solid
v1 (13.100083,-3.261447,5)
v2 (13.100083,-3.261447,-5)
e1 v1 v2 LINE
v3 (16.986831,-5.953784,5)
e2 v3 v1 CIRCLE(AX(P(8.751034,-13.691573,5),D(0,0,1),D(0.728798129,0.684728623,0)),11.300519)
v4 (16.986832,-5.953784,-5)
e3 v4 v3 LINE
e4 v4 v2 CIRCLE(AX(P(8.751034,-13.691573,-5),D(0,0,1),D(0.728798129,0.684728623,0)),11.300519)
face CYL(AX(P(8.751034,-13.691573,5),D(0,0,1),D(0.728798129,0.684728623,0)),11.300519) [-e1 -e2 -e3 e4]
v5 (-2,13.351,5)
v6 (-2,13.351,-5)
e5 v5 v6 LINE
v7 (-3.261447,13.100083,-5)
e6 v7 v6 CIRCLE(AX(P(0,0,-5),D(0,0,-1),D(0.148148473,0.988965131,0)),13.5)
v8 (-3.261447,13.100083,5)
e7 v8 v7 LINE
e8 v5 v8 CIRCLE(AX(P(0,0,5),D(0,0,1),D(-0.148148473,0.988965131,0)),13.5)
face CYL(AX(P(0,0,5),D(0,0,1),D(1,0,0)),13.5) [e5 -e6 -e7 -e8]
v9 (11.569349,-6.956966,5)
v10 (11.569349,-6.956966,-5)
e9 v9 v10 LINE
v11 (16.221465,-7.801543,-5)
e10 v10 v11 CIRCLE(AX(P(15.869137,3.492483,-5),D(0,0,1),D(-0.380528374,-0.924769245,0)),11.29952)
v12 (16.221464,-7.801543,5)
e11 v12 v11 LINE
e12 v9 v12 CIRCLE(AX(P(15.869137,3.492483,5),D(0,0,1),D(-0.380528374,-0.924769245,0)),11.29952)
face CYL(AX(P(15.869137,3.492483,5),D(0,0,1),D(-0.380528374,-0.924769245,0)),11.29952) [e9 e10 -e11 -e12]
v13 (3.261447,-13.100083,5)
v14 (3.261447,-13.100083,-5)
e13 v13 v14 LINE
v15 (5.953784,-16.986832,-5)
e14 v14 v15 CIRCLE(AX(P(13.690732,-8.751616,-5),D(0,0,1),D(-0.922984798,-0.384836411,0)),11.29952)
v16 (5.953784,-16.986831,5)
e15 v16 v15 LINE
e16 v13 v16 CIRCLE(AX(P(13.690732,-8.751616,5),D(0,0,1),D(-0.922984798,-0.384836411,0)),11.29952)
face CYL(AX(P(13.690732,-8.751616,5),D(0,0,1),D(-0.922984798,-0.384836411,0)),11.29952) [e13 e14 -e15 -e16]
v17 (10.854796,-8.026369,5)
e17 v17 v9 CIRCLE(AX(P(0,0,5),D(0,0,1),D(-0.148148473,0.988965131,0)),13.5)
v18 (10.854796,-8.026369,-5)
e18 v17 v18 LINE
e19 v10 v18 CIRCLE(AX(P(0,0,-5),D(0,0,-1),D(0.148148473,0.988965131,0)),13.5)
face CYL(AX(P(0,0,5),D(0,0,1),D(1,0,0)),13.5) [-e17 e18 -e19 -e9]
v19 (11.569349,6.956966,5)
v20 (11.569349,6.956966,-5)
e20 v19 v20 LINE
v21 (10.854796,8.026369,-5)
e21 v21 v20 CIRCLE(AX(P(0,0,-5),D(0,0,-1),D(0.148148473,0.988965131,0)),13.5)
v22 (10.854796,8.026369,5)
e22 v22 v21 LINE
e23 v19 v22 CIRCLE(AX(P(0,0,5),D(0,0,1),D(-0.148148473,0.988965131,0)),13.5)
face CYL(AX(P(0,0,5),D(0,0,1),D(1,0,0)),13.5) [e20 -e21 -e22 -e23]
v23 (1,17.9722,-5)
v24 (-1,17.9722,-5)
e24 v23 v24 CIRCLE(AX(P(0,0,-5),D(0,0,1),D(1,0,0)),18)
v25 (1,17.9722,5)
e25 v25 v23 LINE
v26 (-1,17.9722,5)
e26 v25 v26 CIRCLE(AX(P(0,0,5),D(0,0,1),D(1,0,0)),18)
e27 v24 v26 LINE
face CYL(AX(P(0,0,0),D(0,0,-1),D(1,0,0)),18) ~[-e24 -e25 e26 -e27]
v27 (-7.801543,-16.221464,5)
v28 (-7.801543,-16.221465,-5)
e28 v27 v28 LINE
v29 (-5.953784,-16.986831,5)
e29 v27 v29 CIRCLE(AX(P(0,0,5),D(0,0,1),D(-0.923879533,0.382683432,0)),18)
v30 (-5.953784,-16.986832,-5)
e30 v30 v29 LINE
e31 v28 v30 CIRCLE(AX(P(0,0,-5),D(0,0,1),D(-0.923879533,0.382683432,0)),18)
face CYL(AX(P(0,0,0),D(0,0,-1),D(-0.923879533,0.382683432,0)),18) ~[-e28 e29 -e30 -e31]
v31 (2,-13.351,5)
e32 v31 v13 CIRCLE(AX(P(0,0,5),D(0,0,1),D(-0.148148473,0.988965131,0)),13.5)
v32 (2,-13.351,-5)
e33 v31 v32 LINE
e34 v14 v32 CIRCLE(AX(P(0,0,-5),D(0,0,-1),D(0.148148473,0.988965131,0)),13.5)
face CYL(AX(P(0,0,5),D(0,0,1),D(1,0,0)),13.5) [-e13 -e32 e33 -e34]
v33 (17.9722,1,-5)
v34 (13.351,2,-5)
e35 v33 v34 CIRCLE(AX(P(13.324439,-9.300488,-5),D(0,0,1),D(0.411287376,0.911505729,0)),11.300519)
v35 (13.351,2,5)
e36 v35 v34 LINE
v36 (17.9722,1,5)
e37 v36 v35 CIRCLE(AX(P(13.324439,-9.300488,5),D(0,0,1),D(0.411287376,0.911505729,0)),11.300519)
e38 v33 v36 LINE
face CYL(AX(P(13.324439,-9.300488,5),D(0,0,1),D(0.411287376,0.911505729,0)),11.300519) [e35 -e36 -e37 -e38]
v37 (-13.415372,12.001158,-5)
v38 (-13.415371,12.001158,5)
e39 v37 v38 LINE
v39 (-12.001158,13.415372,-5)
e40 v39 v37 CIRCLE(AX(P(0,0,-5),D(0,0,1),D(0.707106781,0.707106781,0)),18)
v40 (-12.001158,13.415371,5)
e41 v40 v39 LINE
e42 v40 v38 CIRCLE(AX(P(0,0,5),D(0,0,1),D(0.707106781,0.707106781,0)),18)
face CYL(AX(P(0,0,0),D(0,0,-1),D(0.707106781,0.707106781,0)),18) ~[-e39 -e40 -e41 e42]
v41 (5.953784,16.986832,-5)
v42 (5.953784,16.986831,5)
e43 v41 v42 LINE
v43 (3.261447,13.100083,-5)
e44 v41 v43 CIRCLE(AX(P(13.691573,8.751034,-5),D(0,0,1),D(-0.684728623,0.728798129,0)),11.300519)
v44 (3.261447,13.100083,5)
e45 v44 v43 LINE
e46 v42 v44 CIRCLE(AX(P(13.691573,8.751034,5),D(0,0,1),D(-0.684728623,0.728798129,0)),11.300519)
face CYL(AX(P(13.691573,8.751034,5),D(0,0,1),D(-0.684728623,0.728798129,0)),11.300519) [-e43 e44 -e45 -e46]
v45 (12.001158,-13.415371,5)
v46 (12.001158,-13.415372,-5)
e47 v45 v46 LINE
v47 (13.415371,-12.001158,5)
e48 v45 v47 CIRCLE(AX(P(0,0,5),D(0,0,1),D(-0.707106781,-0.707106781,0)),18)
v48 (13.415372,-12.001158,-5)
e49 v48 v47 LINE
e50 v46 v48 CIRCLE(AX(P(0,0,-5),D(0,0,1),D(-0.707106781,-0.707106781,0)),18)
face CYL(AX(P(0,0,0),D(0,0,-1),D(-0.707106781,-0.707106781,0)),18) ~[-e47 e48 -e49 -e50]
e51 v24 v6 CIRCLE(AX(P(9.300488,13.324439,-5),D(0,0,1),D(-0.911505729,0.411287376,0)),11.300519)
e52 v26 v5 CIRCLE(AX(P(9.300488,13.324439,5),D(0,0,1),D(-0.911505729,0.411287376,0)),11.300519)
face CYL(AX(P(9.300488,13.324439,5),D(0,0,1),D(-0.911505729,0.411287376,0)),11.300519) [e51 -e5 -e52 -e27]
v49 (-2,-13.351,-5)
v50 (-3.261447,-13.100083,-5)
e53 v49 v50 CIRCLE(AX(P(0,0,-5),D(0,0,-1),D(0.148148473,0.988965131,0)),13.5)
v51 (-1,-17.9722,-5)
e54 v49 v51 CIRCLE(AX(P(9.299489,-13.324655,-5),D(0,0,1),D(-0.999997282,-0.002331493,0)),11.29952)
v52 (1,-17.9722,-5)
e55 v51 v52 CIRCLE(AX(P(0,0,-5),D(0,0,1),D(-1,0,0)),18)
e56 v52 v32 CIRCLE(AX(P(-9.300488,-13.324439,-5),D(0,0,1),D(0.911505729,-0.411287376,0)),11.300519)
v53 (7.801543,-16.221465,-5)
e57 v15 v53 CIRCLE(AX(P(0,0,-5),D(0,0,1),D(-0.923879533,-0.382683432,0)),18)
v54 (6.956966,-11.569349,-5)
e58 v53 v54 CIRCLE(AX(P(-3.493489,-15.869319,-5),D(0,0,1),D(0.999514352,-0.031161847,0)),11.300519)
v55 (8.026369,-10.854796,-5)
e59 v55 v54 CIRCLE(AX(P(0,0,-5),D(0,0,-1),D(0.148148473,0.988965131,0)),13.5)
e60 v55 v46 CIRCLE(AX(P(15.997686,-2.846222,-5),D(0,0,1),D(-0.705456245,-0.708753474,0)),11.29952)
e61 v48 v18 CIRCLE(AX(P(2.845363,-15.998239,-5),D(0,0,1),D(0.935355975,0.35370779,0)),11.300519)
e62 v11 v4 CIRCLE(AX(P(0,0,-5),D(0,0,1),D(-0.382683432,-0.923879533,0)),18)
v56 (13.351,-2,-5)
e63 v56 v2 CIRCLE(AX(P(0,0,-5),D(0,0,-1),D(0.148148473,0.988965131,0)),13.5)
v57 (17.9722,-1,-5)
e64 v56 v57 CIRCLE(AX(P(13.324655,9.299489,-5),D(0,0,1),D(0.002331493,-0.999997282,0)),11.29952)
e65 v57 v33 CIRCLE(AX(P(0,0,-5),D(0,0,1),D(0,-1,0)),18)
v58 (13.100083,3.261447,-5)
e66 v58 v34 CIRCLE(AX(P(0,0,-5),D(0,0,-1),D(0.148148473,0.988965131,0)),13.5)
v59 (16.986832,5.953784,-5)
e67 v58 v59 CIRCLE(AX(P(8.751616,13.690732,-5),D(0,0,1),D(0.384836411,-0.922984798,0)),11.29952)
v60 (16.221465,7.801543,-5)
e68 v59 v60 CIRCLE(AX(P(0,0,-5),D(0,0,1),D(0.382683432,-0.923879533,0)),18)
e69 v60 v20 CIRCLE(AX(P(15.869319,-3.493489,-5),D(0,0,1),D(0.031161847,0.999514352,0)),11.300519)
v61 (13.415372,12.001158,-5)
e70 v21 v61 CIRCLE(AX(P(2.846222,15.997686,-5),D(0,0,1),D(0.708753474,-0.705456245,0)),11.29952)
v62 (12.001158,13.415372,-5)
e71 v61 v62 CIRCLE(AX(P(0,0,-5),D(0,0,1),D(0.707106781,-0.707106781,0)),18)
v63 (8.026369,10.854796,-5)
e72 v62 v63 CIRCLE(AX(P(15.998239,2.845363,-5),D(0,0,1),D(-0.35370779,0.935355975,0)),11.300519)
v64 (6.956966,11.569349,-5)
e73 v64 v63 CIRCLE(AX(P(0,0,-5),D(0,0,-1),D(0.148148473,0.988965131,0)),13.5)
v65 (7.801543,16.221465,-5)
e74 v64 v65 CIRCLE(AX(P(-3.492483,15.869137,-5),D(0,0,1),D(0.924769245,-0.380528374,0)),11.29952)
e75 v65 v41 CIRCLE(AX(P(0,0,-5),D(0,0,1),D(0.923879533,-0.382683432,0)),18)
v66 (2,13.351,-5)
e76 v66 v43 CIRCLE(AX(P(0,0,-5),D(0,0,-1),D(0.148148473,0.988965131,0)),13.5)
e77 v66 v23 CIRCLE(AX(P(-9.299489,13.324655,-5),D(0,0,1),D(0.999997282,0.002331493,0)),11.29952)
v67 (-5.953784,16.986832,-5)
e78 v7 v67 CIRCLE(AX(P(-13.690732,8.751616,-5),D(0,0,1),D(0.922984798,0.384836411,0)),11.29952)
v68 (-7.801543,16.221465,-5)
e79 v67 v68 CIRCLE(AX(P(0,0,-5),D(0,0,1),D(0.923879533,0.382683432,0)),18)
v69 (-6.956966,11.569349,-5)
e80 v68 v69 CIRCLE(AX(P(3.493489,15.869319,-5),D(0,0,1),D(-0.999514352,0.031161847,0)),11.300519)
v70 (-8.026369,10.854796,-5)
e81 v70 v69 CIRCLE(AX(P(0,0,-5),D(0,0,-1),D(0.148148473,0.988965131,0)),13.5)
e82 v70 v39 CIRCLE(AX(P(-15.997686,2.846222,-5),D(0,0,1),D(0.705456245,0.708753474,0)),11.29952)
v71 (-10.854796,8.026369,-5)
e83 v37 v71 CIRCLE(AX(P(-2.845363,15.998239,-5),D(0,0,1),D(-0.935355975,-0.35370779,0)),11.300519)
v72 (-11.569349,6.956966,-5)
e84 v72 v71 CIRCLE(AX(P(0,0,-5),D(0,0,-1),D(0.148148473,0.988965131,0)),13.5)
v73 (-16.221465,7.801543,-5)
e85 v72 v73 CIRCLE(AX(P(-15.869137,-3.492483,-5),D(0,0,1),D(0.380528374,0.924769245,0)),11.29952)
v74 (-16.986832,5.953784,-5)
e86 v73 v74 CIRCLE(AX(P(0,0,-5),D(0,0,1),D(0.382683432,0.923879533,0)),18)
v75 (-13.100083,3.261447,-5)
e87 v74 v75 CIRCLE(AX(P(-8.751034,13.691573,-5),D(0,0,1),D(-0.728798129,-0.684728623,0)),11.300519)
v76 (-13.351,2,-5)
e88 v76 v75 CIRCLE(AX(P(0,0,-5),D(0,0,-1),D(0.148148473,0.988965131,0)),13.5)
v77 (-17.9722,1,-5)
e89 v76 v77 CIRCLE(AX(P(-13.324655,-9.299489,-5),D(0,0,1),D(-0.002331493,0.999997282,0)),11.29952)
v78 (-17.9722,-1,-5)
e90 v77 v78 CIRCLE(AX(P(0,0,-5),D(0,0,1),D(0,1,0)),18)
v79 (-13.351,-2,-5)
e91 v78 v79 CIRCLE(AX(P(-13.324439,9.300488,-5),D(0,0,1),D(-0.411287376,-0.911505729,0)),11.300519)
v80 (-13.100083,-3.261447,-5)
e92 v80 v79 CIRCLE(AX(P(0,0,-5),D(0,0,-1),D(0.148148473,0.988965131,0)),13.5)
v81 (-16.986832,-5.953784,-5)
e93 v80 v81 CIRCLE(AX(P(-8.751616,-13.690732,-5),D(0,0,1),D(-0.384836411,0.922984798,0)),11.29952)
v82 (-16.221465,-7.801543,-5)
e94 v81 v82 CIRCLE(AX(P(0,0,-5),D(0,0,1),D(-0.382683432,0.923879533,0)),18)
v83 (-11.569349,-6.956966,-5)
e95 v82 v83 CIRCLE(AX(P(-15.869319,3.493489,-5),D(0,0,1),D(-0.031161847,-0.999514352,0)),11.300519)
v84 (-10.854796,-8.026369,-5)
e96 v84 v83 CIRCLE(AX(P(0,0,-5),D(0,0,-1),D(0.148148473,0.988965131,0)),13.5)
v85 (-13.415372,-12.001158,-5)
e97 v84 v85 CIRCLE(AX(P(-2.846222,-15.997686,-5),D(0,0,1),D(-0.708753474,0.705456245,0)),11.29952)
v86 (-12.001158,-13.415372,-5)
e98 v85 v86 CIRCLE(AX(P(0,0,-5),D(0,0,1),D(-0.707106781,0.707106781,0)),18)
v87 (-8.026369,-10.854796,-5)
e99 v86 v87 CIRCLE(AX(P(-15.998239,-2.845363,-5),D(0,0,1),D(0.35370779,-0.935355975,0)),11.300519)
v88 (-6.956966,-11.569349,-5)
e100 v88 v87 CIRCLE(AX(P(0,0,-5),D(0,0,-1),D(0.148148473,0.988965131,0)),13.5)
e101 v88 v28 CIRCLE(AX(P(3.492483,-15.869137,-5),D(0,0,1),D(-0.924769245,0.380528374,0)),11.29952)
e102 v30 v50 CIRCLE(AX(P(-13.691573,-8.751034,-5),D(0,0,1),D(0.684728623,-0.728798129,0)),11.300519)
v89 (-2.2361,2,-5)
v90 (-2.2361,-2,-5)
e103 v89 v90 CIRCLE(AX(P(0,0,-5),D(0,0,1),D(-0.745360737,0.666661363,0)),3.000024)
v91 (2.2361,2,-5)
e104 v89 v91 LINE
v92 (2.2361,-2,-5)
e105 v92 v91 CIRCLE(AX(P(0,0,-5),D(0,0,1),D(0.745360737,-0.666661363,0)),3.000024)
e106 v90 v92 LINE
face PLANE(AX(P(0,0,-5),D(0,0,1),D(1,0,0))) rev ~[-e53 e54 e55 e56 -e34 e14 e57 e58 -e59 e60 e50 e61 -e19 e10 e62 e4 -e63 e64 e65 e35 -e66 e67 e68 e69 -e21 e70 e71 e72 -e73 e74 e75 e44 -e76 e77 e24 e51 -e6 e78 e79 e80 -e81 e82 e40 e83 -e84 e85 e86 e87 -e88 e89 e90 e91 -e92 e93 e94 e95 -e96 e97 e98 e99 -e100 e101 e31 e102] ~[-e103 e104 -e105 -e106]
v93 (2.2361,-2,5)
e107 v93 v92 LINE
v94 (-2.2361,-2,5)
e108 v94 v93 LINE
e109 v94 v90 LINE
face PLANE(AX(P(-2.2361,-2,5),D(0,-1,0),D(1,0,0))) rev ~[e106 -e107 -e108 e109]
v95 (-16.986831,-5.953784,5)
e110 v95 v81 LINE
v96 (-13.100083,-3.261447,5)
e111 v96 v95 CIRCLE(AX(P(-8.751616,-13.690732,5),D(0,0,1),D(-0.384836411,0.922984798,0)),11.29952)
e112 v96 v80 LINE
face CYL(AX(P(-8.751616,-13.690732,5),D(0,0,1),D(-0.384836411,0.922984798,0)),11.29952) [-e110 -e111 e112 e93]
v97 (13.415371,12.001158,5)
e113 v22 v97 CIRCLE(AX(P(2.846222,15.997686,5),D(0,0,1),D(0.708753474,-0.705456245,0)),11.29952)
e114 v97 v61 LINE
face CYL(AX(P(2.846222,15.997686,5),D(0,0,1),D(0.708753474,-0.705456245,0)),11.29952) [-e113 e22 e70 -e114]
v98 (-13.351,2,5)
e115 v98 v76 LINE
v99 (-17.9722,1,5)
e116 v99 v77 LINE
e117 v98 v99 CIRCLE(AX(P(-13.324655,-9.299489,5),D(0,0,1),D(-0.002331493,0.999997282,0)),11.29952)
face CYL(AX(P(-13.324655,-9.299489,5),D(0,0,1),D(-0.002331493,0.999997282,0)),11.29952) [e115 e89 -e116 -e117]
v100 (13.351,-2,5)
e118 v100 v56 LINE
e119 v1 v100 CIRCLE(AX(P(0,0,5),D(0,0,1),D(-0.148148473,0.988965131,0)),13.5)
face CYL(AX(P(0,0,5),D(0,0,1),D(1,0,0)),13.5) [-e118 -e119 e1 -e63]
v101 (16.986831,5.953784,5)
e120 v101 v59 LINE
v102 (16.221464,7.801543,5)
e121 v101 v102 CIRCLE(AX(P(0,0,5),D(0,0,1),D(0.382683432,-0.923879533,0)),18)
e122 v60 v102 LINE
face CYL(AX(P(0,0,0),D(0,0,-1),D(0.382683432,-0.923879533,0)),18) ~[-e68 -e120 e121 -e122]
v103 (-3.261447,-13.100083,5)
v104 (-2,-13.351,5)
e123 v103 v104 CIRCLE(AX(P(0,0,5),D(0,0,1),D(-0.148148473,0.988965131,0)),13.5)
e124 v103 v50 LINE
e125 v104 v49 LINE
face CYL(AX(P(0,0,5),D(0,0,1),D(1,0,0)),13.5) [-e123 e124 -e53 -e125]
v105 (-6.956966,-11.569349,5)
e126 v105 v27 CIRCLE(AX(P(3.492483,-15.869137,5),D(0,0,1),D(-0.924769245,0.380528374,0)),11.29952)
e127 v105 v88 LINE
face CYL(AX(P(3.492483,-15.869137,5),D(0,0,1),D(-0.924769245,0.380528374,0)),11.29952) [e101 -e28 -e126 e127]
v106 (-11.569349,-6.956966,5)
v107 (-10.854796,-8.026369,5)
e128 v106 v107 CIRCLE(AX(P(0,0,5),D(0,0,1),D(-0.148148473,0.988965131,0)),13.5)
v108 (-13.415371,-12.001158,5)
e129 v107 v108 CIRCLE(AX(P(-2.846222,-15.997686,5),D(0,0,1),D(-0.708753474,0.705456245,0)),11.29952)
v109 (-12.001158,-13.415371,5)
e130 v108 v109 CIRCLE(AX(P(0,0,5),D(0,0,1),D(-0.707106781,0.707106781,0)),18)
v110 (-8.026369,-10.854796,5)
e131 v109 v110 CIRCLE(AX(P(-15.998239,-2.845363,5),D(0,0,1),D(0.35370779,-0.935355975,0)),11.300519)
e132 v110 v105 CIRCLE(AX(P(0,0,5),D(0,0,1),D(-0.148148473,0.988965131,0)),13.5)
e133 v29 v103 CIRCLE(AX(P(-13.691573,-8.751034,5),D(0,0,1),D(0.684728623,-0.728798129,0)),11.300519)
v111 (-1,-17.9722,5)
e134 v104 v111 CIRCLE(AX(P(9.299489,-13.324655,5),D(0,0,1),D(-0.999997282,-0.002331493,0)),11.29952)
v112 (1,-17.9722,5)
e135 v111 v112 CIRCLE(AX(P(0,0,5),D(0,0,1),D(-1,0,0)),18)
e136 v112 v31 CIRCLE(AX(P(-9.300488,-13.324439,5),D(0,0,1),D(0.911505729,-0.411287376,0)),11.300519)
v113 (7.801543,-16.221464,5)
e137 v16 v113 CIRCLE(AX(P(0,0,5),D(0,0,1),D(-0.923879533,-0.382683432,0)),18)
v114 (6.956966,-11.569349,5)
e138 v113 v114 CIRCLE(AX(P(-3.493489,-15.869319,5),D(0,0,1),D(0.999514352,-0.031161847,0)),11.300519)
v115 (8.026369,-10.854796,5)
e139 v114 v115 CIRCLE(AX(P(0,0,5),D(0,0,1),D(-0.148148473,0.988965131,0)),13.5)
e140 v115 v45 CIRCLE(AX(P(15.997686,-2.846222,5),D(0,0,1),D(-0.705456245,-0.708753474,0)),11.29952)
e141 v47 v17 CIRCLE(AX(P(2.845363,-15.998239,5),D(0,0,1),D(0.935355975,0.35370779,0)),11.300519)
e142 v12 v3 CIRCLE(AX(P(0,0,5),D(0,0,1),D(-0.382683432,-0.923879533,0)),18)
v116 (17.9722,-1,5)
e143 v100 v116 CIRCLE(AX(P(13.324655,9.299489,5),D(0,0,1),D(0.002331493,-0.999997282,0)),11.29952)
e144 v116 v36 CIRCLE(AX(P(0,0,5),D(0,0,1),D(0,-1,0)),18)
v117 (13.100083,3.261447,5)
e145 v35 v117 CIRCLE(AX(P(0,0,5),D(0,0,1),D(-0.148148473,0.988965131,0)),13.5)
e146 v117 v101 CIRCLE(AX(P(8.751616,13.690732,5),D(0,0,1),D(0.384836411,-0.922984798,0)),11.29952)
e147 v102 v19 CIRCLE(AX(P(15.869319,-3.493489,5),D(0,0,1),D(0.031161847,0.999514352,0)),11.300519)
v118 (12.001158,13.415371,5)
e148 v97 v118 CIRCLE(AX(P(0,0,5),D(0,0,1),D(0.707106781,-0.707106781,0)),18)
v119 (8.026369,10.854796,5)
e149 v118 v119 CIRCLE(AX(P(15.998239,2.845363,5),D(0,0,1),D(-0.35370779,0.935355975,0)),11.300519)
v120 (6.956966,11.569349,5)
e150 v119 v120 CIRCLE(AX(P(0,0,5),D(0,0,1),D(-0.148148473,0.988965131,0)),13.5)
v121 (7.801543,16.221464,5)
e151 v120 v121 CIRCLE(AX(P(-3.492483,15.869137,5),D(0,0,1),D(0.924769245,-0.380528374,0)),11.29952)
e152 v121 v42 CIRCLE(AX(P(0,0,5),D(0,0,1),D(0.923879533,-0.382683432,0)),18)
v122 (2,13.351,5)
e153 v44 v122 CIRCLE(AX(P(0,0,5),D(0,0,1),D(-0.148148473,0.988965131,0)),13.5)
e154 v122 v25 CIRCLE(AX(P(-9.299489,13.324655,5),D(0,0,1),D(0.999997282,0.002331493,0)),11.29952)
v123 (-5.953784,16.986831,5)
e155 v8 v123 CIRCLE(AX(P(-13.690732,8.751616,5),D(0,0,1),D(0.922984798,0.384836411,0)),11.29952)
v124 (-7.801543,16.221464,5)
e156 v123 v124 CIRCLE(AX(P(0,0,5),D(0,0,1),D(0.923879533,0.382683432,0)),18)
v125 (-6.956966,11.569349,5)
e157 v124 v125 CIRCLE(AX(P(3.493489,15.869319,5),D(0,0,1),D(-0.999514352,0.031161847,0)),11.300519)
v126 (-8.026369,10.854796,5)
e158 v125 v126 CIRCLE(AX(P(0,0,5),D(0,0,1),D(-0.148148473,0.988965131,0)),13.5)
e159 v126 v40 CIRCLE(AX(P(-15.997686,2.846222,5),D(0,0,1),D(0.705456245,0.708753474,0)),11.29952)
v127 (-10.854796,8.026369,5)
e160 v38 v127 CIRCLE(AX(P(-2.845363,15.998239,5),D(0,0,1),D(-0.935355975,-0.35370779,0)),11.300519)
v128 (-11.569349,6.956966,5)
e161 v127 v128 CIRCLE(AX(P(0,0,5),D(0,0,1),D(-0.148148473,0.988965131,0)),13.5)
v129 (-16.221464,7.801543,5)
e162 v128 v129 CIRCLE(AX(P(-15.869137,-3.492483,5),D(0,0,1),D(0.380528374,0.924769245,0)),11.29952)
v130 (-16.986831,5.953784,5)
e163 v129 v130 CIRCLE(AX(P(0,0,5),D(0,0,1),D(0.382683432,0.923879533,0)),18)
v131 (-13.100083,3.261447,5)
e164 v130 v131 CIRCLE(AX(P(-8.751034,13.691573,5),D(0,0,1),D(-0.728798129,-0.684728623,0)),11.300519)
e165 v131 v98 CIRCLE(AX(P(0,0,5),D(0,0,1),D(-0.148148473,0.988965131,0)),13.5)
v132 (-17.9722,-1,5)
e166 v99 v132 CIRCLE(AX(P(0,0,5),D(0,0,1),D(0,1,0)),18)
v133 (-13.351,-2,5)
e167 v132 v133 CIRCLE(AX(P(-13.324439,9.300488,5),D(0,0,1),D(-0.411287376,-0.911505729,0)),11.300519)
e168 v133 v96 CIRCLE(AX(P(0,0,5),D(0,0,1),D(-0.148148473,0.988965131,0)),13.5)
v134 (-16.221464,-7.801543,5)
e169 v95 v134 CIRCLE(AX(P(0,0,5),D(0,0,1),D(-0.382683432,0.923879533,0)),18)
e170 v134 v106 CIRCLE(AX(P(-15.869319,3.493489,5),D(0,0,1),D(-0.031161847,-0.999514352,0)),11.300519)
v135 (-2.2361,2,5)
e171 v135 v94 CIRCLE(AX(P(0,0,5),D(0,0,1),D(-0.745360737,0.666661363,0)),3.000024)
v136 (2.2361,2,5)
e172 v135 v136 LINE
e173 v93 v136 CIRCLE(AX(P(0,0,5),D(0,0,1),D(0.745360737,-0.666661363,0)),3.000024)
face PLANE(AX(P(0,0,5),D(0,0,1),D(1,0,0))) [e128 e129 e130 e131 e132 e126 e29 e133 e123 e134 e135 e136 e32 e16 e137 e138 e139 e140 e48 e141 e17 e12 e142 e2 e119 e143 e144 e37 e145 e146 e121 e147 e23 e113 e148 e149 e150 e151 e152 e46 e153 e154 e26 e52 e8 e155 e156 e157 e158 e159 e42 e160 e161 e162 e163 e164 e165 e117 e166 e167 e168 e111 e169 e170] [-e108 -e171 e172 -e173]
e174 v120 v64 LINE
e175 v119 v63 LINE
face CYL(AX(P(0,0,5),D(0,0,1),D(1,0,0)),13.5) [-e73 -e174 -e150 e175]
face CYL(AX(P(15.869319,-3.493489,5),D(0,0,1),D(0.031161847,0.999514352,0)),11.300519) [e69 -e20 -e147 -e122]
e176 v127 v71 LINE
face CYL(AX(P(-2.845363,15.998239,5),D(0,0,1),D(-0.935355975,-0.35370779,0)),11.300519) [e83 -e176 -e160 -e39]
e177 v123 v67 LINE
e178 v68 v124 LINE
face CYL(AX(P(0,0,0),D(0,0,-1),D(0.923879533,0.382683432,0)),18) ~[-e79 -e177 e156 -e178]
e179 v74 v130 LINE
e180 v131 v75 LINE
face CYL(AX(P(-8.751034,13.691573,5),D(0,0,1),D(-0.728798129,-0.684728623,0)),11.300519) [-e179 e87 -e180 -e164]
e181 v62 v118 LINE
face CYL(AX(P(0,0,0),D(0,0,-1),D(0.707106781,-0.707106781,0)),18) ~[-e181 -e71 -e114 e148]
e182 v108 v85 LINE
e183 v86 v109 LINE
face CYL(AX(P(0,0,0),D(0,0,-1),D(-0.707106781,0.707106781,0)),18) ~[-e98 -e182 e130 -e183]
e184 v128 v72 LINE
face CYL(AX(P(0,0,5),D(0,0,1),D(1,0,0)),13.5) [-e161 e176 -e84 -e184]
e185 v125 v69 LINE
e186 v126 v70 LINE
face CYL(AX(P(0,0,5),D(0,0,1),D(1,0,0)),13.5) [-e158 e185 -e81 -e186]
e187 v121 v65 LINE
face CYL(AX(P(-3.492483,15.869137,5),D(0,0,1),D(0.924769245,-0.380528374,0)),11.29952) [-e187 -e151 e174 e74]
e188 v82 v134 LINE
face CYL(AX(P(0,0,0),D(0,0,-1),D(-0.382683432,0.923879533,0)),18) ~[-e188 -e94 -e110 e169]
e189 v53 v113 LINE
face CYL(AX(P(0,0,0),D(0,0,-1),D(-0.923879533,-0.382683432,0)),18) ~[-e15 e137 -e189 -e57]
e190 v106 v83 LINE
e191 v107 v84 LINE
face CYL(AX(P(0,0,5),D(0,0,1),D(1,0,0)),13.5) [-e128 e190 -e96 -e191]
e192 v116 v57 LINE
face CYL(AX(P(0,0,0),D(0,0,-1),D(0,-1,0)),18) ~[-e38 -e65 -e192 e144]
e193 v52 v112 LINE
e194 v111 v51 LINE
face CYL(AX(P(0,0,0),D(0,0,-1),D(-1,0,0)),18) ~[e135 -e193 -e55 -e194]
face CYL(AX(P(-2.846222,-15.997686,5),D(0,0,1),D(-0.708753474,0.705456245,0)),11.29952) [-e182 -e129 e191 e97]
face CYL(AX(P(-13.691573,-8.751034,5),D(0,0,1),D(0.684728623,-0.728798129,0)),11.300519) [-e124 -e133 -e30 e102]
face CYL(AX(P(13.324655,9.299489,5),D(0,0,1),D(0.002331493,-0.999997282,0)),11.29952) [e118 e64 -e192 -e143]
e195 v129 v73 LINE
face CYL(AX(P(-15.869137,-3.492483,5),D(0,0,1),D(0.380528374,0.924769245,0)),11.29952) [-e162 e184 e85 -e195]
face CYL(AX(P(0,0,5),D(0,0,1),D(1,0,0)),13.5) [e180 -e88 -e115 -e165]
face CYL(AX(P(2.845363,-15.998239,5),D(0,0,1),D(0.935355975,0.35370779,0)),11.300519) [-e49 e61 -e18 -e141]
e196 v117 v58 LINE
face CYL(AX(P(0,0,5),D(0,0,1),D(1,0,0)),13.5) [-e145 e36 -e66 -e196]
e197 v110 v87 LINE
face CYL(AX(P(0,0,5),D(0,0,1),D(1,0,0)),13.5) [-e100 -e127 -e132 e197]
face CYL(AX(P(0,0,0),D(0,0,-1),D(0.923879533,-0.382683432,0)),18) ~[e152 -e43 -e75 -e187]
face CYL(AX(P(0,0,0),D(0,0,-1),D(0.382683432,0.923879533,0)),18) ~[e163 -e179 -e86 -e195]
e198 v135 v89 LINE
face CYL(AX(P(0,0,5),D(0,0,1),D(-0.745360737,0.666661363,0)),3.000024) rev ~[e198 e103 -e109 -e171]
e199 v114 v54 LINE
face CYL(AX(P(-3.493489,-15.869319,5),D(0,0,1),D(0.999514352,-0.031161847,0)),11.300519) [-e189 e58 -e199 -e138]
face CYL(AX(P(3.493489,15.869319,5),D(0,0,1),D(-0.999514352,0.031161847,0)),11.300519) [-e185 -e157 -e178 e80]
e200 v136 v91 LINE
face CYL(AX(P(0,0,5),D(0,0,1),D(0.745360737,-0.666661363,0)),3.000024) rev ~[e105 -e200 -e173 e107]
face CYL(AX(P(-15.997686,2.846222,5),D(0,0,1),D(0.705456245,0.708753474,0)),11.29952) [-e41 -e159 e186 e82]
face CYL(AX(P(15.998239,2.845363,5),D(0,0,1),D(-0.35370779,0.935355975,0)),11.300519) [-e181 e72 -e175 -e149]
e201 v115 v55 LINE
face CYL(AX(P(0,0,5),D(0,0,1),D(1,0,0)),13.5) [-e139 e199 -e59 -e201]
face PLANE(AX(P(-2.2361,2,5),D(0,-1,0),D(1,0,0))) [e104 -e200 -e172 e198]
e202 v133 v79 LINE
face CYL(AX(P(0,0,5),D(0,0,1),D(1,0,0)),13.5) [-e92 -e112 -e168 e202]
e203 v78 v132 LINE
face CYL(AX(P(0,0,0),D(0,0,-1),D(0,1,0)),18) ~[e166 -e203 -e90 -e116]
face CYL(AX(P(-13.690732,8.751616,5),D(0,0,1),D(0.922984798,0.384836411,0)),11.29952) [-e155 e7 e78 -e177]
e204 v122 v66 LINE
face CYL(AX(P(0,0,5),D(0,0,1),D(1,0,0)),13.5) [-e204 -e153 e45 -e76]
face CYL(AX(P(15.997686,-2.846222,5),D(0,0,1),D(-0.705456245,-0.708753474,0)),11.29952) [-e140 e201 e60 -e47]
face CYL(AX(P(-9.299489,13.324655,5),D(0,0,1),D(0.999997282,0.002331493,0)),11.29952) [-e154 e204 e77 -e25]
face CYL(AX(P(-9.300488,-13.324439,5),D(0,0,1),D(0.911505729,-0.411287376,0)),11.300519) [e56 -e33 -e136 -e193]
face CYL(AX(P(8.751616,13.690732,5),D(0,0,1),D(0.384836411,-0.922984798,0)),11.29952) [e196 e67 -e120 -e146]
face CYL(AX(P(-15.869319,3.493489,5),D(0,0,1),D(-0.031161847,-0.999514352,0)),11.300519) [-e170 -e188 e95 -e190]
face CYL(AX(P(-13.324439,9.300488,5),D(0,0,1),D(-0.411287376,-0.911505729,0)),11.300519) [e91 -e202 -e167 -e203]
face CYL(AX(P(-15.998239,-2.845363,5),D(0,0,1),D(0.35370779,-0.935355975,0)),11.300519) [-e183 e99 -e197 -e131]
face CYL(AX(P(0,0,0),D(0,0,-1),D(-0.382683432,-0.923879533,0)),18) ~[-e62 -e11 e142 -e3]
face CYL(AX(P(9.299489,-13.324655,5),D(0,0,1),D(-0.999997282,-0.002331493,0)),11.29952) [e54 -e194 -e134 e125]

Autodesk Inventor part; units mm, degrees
ref_plane "YZ Plane" through (0, 0, 0) normal (1, 0, 0) x (0, 1, 0)
ref_plane "XZ Plane" through (0, 0, 0) normal (0, 1, 0) x (-1, 0, 0)
ref_plane "XY Plane" through (0, 0, 0) normal (0, 0, 1) x (1, 0, 0)
sketch "스케치1" plane through (0, 0, 0) normal (0, 0, 1) x (1, 0, 0)
  circle A0 centre (0, 0) radius 18
  dimension "d0" = 36
extrude "돌출1" add sketch "스케치1" along normal mid plane 10
sketch "스케치2" plane through (0, 0, 5) normal (0, 0, 1) x (1, 0, 0)
  circle A0 centre (0, 0) radius 18 projected
  circle A1 centre (0, 0) radius 13.5
  line L0 (0, 0) -> (0, 22.2867) construction
  line L1 (-1, 0) -> (-1, 22.2867) construction
  line L2 (-2, 0) -> (-2, 22.2867) construction
  arc A2 (-1, 17.9722) -> (-2, 13.351) centre (9.3, 13.3246) ccw
  arc A3 (2, 13.351) -> (1, 17.9722) centre (-9.3, 13.3246) ccw
  point P0 (1, 17.9722)
  point P1 (2, 13.351)
  dimension "d3" = 4.5
  dimension "d4" = 1
  dimension "d5" = 1
  dimension "d6" = 11.3
extrude "돌출2" cut sketch "스케치2" against normal blind 15 contours A0 A2 A1 A3 picked at (16.1915, -2.5264)
pattern_circular "원형 패턴1" count 16 over 360 about axis through (0, 0, 5) along (0, 0, -1)
sketch "스케치3" plane through (0, 0, 5) normal (0, 0, 1) x (1, 0, 0)
  arc A0 (2, 13.351) -> (1, 17.9722) centre (-9.3, 13.3246) ccw projected
  arc A1 (1, 17.9722) -> (-1, 17.9722) centre (0, 0) ccw projected
  arc A2 (-1, 17.9722) -> (-2, 13.351) centre (9.3, 13.3246) ccw projected
  arc A3 (-2, 13.351) -> (-3.2615, 13.1001) centre (0, 0) ccw projected
  arc A4 (-3.2615, 13.1001) -> (-5.9538, 16.9868) centre (-13.6911, 8.7513) ccw projected
  arc A5 (-5.9538, 16.9868) -> (-7.8015, 16.2215) centre (0, 0) ccw projected
  arc A6 (-7.8015, 16.2215) -> (-6.957, 11.5694) centre (3.493, 15.8692) ccw projected
  arc A7 (-6.957, 11.5694) -> (-8.0264, 10.8548) centre (0, 0) ccw projected
  arc A8 (-8.0264, 10.8548) -> (-12.0012, 13.4154) centre (-15.998, 2.8458) ccw projected
  arc A9 (-12.0012, 13.4154) -> (-13.4154, 12.0012) centre (0, 0) ccw projected
  arc A10 (-13.4154, 12.0012) -> (-10.8548, 8.0264) centre (-2.8458, 15.998) ccw projected
  arc A11 (-10.8548, 8.0264) -> (-11.5694, 6.957) centre (0, 0) ccw projected
  arc A12 (-11.5694, 6.957) -> (-16.2215, 7.8015) centre (-15.8692, -3.493) ccw projected
  arc A13 (-16.2215, 7.8015) -> (-16.9868, 5.9538) centre (0, 0) ccw projected
  arc A14 (-16.9868, 5.9538) -> (-13.1001, 3.2615) centre (-8.7513, 13.6911) ccw projected
  arc A15 (-13.1001, 3.2615) -> (-13.351, 2) centre (0, 0) ccw projected
  arc A16 (-13.351, 2) -> (-17.9722, 1) centre (-13.3246, -9.3) ccw projected
  arc A17 (-17.9722, 1) -> (-17.9722, -1) centre (0, 0) ccw projected
  arc A18 (-17.9722, -1) -> (-13.351, -2) centre (-13.3246, 9.3) ccw projected
  arc A19 (-13.351, -2) -> (-13.1001, -3.2615) centre (0, 0) ccw projected
  arc A20 (-13.1001, -3.2615) -> (-16.9868, -5.9538) centre (-8.7513, -13.6911) ccw projected
  arc A21 (-16.9868, -5.9538) -> (-16.2215, -7.8015) centre (0, 0) ccw projected
  arc A22 (-16.2215, -7.8015) -> (-11.5694, -6.957) centre (-15.8692, 3.493) ccw projected
  arc A23 (-11.5694, -6.957) -> (-10.8548, -8.0264) centre (0, 0) ccw projected
  arc A24 (-10.8548, -8.0264) -> (-13.4154, -12.0012) centre (-2.8458, -15.998) ccw projected
  arc A25 (-13.4154, -12.0012) -> (-12.0012, -13.4154) centre (0, 0) ccw projected
  arc A26 (-12.0012, -13.4154) -> (-8.0264, -10.8548) centre (-15.998, -2.8458) ccw projected
  arc A27 (-8.0264, -10.8548) -> (-6.957, -11.5694) centre (0, 0) ccw projected
  arc A28 (-6.957, -11.5694) -> (-7.8015, -16.2215) centre (3.493, -15.8692) ccw projected
  arc A29 (-7.8015, -16.2215) -> (-5.9538, -16.9868) centre (0, 0) ccw projected
  arc A30 (-5.9538, -16.9868) -> (-3.2615, -13.1001) centre (-13.6911, -8.7513) ccw projected
  arc A31 (-3.2615, -13.1001) -> (-2, -13.351) centre (0, 0) ccw projected
  arc A32 (-2, -13.351) -> (-1, -17.9722) centre (9.3, -13.3246) ccw projected
  arc A33 (-1, -17.9722) -> (1, -17.9722) centre (0, 0) ccw projected
  arc A34 (1, -17.9722) -> (2, -13.351) centre (-9.3, -13.3246) ccw projected
  arc A35 (2, -13.351) -> (3.2615, -13.1001) centre (0, 0) ccw projected
  arc A36 (3.2615, -13.1001) -> (5.9538, -16.9868) centre (13.6911, -8.7513) ccw projected
  arc A37 (5.9538, -16.9868) -> (7.8015, -16.2215) centre (0, 0) ccw projected
  arc A38 (7.8015, -16.2215) -> (6.957, -11.5694) centre (-3.493, -15.8692) ccw projected
  arc A39 (6.957, -11.5694) -> (8.0264, -10.8548) centre (0, 0) ccw projected
  arc A40 (8.0264, -10.8548) -> (12.0012, -13.4154) centre (15.998, -2.8458) ccw projected
  arc A41 (12.0012, -13.4154) -> (13.4154, -12.0012) centre (0, 0) ccw projected
  arc A42 (13.4154, -12.0012) -> (10.8548, -8.0264) centre (2.8458, -15.998) ccw projected
  arc A43 (10.8548, -8.0264) -> (11.5694, -6.957) centre (0, 0) ccw projected
  arc A44 (11.5694, -6.957) -> (16.2215, -7.8015) centre (15.8692, 3.493) ccw projected
  arc A45 (16.2215, -7.8015) -> (16.9868, -5.9538) centre (0, 0) ccw projected
  arc A46 (16.9868, -5.9538) -> (13.1001, -3.2615) centre (8.7513, -13.6911) ccw projected
  arc A47 (13.1001, -3.2615) -> (13.351, -2) centre (0, 0) ccw projected
  arc A48 (13.351, -2) -> (17.9722, -1) centre (13.3246, 9.3) ccw projected
  arc A49 (17.9722, -1) -> (17.9722, 1) centre (0, 0) ccw projected
  arc A50 (17.9722, 1) -> (13.351, 2) centre (13.3246, -9.3) ccw projected
  arc A51 (13.351, 2) -> (13.1001, 3.2615) centre (0, 0) ccw projected
  arc A52 (13.1001, 3.2615) -> (16.9868, 5.9538) centre (8.7513, 13.6911) ccw projected
  arc A53 (16.9868, 5.9538) -> (16.2215, 7.8015) centre (0, 0) ccw projected
  arc A54 (16.2215, 7.8015) -> (11.5694, 6.957) centre (15.8692, -3.493) ccw projected
  arc A55 (11.5694, 6.957) -> (10.8548, 8.0264) centre (0, 0) ccw projected
  arc A56 (10.8548, 8.0264) -> (13.4154, 12.0012) centre (2.8458, 15.998) ccw projected
  arc A57 (13.4154, 12.0012) -> (12.0012, 13.4154) centre (0, 0) ccw projected
  arc A58 (12.0012, 13.4154) -> (8.0264, 10.8548) centre (15.998, 2.8458) ccw projected
  arc A59 (8.0264, 10.8548) -> (6.957, 11.5694) centre (0, 0) ccw projected
  arc A60 (6.957, 11.5694) -> (7.8015, 16.2215) centre (-3.493, 15.8692) ccw projected
  arc A61 (7.8015, 16.2215) -> (5.9538, 16.9868) centre (0, 0) ccw projected
  arc A62 (5.9538, 16.9868) -> (3.2615, 13.1001) centre (13.6911, 8.7513) ccw projected
  arc A63 (3.2615, 13.1001) -> (2, 13.351) centre (0, 0) ccw projected
  line L0 (-4.0823, 0) -> (5.9538, 0) construction
  line L1 (-2.2361, 2) -> (2.2361, 2)
  line L2 (-2.2361, -2) -> (2.2361, -2)
  arc A64 (-2.2361, 2) -> (-2.2361, -2) centre (0, 0) ccw
  arc A65 (2.2361, -2) -> (2.2361, 2) centre (0, 0) ccw
  point P0 (3, 0)
  point P1 (-3, 0)
  dimension "d13" = 2
  dimension "d14" = 2
  dimension "d15" = 6
extrude "돌출3" cut sketch "스케치3" against normal through all contours L1 A65 L2 A64
properties part number "피니언"
